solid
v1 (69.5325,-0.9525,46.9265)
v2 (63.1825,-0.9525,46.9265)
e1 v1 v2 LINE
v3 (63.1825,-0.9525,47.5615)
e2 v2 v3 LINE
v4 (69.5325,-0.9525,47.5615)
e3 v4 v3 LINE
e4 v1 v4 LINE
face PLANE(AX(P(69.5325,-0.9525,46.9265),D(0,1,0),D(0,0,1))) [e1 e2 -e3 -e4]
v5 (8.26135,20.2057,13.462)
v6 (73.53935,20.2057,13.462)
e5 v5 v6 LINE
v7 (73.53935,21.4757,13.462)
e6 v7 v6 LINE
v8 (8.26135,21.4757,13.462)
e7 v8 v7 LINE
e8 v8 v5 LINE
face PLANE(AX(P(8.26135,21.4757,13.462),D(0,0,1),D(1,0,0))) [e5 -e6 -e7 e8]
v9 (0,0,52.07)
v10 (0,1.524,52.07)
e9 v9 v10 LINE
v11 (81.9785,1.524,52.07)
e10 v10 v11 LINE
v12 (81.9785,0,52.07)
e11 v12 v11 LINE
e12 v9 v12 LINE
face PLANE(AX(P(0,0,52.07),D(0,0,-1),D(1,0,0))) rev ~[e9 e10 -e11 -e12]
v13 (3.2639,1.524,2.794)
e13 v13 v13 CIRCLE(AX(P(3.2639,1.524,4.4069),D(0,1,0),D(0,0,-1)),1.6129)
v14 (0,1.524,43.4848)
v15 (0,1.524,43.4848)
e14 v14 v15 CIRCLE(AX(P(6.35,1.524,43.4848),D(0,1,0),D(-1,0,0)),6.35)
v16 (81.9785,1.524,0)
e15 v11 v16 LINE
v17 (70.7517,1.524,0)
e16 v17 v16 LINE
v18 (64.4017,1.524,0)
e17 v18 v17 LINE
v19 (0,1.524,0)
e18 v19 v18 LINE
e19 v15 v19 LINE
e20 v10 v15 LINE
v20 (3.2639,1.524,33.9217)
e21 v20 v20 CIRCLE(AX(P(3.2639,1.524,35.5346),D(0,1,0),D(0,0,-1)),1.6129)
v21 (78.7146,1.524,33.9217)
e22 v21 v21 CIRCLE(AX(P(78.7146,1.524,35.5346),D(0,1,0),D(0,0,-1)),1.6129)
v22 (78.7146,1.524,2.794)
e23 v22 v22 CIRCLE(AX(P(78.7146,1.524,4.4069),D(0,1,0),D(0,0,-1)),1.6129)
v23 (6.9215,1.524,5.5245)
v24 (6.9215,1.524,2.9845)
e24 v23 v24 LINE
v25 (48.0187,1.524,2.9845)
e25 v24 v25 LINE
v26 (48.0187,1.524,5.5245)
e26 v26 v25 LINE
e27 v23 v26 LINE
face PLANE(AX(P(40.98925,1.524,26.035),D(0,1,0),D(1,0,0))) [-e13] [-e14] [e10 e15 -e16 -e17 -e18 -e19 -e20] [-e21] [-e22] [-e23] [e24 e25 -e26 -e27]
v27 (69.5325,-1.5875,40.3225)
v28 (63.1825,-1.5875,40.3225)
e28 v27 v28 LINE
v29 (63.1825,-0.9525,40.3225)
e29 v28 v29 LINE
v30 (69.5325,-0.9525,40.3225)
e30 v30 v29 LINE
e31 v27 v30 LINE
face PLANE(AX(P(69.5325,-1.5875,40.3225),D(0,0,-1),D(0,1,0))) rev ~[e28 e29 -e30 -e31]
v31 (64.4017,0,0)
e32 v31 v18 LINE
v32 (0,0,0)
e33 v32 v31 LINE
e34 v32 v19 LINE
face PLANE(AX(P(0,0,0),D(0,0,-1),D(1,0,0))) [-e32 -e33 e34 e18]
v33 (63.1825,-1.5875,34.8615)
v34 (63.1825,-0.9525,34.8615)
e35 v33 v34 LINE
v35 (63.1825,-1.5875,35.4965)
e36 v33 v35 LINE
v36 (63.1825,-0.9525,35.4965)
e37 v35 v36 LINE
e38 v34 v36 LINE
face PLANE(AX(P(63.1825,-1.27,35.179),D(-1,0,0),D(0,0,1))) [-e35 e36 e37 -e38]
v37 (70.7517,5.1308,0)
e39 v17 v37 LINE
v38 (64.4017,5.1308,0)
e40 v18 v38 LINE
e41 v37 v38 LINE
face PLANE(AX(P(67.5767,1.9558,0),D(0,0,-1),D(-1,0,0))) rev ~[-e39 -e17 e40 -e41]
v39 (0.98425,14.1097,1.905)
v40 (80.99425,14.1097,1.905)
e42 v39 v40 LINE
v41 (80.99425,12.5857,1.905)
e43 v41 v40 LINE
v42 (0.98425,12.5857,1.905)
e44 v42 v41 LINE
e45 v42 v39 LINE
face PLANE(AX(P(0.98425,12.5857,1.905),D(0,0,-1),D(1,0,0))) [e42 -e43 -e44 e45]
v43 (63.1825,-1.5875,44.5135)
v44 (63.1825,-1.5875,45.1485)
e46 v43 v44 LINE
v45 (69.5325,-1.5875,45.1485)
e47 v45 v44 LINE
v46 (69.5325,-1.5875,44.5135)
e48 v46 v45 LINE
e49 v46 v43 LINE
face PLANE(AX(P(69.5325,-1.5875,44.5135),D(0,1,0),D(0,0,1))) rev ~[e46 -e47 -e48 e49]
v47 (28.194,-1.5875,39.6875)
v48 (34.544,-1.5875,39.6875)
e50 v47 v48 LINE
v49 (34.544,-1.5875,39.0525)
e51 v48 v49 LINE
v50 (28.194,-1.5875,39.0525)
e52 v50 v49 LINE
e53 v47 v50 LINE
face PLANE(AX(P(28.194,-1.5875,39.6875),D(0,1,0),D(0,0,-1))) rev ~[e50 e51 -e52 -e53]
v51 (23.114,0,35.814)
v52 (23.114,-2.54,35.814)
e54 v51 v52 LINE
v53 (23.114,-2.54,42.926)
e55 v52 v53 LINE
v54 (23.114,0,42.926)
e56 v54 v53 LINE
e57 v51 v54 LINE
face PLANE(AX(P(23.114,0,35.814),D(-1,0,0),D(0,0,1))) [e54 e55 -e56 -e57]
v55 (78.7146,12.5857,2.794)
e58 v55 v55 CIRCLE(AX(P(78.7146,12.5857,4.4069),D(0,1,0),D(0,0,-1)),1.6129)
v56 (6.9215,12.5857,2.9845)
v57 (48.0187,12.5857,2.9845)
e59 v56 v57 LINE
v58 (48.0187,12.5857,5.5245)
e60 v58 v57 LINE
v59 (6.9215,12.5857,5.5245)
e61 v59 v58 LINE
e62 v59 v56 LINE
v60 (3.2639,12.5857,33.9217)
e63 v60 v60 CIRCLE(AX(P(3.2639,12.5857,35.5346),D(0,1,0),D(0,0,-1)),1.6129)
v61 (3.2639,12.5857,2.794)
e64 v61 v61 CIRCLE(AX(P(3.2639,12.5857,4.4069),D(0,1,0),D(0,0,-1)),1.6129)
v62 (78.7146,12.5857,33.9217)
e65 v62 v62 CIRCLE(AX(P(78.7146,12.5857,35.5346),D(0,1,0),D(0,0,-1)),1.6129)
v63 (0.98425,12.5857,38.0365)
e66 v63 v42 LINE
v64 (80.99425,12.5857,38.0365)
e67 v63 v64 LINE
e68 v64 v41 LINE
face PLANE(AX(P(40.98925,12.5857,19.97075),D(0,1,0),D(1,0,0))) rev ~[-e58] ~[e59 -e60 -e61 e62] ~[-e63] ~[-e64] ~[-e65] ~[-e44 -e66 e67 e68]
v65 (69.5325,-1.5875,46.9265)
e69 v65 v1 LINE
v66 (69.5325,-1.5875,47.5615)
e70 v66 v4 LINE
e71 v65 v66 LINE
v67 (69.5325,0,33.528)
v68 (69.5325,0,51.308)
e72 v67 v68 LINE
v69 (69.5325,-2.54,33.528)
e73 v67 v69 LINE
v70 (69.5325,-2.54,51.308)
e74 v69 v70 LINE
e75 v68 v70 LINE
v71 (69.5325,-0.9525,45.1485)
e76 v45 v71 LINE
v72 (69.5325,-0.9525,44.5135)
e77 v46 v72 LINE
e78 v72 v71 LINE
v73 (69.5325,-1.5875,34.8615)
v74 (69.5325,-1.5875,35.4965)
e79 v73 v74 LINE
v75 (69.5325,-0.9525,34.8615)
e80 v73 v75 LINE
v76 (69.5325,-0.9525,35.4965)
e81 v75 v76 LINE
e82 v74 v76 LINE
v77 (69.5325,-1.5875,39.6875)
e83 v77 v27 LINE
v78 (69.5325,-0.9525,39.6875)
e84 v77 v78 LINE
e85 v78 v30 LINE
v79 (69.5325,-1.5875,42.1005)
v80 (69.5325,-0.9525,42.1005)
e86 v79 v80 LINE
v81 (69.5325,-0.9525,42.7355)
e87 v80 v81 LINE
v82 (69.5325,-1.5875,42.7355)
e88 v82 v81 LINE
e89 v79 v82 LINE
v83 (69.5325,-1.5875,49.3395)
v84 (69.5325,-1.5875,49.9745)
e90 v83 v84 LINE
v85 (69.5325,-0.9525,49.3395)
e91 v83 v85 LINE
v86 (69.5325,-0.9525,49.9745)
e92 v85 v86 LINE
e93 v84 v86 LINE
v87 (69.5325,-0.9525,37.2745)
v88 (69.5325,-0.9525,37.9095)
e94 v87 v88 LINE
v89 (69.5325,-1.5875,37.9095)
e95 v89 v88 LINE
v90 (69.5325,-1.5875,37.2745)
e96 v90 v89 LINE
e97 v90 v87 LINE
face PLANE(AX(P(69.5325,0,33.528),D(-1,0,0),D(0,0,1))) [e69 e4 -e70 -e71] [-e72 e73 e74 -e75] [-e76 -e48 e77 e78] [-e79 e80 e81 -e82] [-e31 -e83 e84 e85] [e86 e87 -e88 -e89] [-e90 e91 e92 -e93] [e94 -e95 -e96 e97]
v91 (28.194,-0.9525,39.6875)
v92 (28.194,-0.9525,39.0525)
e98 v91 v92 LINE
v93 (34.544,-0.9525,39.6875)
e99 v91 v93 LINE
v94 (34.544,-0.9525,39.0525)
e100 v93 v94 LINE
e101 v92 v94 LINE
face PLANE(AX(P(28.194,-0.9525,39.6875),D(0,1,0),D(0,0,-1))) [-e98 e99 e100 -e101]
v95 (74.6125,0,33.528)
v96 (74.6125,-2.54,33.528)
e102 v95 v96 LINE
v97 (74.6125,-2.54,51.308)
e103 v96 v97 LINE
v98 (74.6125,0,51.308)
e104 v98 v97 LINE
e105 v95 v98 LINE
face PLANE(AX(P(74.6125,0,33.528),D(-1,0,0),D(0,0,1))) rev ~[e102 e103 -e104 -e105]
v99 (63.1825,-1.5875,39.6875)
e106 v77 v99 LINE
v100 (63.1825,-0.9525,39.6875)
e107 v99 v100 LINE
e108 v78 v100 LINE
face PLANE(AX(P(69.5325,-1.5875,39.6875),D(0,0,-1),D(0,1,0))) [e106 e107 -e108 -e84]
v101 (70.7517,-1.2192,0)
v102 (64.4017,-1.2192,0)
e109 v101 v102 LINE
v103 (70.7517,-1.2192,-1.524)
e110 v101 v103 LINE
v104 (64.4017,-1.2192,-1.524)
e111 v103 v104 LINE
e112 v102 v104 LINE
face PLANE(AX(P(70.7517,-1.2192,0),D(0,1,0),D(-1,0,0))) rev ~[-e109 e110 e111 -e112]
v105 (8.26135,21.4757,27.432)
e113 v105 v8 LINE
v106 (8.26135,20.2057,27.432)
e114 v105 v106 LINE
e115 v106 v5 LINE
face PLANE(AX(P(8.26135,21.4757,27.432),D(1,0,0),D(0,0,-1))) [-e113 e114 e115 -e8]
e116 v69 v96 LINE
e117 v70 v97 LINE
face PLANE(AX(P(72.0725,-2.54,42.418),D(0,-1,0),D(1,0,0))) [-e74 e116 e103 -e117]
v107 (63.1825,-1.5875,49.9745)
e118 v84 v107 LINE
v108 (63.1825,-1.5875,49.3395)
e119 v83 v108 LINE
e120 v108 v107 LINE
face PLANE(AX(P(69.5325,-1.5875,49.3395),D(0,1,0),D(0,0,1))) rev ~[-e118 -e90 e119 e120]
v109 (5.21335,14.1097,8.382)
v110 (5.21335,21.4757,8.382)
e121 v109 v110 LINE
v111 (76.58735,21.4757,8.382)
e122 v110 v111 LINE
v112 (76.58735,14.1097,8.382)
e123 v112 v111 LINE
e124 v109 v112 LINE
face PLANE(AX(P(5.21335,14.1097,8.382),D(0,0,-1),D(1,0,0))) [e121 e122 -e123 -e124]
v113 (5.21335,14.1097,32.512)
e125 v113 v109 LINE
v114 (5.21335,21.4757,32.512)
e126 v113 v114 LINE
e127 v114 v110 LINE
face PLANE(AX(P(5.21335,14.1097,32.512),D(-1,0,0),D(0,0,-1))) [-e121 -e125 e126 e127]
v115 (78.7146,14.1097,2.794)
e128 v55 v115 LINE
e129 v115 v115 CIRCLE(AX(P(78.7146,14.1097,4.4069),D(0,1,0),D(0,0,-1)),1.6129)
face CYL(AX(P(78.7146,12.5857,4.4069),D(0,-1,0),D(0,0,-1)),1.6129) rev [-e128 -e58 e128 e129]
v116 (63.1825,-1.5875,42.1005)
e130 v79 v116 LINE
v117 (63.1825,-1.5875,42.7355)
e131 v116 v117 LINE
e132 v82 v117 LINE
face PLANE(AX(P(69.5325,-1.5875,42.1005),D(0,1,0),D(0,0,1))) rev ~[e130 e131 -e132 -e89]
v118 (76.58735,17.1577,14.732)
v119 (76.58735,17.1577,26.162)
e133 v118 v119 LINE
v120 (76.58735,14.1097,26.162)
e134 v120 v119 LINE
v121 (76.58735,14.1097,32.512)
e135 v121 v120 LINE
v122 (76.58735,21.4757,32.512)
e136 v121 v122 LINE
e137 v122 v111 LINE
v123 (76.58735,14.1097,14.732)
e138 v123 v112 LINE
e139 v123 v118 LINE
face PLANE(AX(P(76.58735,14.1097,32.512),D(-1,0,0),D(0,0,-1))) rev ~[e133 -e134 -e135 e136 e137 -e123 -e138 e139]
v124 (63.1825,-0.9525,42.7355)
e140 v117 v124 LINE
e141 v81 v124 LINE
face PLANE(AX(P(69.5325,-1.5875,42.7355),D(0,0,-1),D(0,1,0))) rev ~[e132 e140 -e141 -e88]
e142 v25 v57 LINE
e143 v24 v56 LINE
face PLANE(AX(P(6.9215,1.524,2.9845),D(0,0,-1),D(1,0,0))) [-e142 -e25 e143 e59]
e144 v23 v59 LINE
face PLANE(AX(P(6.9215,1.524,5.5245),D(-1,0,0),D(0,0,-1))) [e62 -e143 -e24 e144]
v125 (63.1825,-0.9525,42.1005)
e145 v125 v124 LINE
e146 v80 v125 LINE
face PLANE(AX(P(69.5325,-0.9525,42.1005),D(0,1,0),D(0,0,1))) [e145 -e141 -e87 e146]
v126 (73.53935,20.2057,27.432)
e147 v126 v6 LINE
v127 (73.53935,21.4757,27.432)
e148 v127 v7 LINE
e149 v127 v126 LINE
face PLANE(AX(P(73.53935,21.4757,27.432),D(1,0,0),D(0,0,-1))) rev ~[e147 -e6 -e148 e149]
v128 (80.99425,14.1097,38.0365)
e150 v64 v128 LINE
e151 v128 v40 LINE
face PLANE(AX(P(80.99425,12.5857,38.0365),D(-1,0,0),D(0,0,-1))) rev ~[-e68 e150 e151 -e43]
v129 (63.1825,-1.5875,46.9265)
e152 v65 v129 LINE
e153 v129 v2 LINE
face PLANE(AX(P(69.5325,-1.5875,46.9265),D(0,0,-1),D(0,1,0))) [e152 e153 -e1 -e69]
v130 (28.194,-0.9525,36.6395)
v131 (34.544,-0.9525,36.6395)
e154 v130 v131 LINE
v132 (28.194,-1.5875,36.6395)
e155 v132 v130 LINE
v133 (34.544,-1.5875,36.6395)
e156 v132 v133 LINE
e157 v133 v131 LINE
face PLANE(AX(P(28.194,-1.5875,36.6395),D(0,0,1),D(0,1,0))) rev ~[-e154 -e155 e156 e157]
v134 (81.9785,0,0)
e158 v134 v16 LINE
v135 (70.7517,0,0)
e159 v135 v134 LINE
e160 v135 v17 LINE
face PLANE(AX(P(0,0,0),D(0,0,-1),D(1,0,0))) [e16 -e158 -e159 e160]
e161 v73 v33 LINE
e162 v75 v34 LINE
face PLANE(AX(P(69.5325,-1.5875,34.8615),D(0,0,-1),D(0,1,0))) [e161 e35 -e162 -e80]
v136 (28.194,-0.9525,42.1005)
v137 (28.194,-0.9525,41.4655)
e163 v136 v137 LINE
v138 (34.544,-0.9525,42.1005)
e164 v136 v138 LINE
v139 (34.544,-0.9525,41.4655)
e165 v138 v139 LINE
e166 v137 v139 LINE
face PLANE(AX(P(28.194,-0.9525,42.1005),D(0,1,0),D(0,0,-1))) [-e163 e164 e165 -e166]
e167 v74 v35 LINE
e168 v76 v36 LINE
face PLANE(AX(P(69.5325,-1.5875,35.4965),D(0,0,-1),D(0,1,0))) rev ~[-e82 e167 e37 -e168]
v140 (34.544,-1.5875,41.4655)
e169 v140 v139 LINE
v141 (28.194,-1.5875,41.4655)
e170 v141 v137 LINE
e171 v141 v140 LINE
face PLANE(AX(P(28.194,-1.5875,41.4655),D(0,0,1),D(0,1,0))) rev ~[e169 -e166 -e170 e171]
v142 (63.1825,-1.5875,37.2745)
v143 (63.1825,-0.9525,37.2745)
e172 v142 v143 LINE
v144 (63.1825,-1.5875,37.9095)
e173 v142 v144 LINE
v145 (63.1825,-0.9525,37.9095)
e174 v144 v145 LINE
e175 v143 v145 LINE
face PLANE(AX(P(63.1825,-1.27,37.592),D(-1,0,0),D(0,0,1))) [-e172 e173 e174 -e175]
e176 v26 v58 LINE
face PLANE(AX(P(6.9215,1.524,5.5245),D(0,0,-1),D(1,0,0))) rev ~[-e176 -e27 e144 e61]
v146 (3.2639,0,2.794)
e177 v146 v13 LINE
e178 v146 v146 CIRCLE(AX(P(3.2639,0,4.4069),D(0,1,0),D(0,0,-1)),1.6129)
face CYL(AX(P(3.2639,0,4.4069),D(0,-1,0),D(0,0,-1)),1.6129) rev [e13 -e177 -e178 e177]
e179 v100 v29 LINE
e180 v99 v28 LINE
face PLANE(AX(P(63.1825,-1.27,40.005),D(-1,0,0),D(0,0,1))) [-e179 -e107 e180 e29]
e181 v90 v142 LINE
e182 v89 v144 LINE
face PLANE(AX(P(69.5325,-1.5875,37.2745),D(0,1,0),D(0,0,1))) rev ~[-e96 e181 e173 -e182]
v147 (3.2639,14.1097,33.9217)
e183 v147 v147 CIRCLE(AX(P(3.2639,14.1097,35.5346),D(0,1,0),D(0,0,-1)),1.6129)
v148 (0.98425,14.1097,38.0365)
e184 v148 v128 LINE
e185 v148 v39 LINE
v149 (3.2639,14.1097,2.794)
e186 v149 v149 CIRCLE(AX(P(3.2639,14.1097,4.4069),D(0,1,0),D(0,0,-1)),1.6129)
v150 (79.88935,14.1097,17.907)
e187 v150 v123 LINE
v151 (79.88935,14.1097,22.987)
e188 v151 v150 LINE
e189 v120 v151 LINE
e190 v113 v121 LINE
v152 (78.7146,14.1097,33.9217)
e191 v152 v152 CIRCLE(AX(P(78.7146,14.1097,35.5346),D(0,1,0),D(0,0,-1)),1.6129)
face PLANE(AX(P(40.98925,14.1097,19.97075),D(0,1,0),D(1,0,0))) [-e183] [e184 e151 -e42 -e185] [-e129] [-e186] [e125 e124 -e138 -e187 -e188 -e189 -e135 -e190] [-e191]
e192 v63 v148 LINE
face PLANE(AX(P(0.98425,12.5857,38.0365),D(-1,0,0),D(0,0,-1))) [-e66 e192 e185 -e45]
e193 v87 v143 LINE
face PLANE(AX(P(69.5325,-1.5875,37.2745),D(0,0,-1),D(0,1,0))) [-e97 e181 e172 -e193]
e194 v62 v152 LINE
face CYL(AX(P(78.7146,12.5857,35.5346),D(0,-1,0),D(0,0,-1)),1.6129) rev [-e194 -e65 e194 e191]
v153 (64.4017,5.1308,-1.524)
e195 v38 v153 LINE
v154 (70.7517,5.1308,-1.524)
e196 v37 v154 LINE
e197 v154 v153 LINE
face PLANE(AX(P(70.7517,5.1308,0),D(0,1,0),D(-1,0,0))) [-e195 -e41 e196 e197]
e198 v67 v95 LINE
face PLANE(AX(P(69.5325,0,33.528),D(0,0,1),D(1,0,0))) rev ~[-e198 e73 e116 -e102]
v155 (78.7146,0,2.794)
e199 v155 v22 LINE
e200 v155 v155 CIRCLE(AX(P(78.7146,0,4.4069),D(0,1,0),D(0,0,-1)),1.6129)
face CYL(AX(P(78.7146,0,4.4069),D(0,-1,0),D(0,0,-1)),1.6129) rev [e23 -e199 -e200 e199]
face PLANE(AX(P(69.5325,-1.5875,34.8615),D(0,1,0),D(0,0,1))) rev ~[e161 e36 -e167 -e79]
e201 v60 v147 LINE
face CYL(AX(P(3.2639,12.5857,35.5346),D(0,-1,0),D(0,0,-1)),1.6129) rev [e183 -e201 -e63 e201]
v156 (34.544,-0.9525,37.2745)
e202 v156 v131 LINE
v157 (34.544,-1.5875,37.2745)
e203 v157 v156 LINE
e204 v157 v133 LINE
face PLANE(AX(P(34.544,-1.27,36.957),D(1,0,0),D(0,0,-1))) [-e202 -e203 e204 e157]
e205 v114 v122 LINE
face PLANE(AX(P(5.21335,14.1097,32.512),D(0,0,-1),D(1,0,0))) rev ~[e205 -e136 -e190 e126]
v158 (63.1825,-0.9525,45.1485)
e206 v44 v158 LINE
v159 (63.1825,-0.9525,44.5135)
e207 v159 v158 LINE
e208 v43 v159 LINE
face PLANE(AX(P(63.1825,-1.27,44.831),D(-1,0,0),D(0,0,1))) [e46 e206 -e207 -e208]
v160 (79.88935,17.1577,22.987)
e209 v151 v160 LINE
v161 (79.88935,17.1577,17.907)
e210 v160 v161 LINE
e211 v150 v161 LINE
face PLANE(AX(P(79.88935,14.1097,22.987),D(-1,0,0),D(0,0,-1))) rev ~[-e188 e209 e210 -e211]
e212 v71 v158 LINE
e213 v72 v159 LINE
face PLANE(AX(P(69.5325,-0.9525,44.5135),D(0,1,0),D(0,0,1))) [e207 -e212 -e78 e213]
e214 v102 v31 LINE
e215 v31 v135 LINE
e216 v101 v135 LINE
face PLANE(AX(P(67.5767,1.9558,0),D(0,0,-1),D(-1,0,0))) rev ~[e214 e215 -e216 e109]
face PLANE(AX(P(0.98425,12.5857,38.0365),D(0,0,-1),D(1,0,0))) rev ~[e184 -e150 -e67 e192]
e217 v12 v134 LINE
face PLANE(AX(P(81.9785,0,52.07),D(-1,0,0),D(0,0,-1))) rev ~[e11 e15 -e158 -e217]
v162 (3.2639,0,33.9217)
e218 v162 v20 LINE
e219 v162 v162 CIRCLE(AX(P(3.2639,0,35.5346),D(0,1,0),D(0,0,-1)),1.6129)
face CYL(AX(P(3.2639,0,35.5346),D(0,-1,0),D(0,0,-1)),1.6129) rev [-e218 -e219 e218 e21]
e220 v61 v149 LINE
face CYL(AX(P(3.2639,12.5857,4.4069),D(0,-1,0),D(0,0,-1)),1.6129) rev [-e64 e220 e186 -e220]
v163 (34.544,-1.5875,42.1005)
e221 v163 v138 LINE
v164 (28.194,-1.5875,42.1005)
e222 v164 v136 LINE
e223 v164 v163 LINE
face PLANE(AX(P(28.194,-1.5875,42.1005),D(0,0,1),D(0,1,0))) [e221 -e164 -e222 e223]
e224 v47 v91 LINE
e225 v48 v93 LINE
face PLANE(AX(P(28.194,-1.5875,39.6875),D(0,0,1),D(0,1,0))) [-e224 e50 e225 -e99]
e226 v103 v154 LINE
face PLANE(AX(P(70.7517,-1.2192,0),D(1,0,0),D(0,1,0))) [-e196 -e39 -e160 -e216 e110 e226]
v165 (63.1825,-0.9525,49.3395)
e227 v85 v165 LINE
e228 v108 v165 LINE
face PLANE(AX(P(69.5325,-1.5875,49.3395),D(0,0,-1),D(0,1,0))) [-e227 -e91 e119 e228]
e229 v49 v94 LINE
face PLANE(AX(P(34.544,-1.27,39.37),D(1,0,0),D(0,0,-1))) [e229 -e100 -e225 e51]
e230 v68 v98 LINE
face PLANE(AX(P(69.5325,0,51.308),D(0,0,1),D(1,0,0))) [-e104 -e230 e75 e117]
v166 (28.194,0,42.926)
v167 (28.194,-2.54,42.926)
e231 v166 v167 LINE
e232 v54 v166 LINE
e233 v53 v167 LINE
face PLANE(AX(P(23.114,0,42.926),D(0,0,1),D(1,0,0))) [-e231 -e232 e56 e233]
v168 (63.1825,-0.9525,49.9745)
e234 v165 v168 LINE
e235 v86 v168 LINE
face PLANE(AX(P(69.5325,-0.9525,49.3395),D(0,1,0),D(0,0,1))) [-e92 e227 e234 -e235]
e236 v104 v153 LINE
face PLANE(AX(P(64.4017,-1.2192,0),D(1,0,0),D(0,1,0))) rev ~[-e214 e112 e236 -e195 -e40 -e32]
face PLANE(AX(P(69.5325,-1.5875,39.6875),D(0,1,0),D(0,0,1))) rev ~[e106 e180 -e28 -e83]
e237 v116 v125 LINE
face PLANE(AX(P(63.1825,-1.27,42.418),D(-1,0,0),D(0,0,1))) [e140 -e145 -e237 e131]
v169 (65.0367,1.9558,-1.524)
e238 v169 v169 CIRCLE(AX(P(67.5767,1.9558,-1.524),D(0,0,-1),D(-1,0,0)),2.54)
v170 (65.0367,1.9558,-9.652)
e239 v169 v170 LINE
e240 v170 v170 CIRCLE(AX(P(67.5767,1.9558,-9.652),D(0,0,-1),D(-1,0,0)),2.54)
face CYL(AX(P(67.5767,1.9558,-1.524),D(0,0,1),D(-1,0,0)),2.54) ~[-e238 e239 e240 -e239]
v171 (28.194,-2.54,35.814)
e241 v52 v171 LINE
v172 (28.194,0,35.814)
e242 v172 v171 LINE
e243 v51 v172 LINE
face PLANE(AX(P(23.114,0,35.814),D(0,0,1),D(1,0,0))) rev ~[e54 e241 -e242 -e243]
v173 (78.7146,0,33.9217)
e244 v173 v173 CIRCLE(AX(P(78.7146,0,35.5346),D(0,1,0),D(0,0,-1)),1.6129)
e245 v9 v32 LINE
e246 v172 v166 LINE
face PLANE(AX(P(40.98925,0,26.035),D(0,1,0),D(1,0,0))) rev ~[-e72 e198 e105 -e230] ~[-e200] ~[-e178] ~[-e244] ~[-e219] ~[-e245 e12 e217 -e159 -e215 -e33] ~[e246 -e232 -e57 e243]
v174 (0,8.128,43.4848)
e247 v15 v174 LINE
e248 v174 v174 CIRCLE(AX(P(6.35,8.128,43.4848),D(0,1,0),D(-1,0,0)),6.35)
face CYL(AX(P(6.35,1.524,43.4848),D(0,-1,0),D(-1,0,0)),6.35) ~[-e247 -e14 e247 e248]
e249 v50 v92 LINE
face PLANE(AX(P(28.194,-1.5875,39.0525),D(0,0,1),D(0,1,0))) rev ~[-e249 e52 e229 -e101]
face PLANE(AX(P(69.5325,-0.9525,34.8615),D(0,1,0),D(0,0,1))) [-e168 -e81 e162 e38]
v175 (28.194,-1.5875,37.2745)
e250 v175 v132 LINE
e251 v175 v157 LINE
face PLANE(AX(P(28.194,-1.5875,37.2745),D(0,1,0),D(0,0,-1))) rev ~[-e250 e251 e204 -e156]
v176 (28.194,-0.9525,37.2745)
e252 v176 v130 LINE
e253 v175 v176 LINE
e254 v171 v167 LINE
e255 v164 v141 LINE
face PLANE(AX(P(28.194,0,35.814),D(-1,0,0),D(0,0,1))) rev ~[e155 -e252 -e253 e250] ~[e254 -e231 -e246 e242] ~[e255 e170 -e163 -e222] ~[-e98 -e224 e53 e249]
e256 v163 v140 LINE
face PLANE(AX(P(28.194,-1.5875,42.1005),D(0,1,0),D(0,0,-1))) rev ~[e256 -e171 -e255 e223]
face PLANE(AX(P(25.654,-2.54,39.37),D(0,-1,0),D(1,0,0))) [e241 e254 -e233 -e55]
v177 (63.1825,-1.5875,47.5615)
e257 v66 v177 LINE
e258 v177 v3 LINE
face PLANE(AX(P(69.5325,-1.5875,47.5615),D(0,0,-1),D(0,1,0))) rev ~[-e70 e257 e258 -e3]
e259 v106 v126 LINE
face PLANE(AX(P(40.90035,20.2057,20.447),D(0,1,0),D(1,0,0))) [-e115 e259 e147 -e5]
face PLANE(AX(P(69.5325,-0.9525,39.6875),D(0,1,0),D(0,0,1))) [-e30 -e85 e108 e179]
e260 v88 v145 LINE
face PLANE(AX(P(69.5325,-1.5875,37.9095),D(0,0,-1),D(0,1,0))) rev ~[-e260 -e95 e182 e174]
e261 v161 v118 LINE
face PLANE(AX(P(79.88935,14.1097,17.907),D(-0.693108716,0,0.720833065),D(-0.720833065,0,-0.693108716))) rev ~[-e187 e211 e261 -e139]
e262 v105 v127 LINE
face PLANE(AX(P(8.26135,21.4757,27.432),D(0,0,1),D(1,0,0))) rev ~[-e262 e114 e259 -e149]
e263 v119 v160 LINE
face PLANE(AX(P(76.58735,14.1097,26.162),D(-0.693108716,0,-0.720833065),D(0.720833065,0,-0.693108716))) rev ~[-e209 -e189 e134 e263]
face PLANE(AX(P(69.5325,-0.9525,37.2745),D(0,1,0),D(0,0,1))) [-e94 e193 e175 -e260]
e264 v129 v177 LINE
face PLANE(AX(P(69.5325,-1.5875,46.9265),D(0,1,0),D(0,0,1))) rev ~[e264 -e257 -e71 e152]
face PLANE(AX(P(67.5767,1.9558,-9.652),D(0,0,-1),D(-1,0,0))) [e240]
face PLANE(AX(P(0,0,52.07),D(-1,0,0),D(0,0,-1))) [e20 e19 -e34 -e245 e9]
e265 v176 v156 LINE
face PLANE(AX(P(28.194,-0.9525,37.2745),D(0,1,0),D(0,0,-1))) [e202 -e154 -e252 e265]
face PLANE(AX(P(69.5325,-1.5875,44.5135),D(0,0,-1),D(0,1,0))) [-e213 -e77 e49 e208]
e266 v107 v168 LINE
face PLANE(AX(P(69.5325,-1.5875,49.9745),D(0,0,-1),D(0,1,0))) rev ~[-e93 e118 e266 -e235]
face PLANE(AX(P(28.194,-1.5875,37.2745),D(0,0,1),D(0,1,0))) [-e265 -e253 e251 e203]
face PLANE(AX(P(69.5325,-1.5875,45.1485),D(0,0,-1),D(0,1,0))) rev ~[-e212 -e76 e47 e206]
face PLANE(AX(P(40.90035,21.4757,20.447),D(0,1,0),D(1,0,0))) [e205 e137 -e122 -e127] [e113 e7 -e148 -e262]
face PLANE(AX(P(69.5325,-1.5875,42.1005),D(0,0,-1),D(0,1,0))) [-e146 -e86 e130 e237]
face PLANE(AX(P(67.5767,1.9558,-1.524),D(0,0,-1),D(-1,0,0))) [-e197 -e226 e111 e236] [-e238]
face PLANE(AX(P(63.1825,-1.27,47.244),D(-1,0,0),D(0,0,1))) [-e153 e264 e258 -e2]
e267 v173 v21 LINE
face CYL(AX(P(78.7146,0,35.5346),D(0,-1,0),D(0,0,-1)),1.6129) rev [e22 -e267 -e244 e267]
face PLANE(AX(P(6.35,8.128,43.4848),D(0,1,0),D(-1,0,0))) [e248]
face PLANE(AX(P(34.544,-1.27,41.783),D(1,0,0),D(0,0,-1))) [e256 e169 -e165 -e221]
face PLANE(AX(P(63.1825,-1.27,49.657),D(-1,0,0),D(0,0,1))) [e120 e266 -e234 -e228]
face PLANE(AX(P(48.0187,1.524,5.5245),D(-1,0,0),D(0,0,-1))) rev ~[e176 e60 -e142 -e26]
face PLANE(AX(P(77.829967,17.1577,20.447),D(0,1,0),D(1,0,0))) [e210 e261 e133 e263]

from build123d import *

# Parameters (mm, degrees)
SKETCH1_W            = 81.9785
SKETCH1_H            = 52.07
SKETCH1_R            = 1.6129
BASE_PCB_DEPTH       = 1.524
SKETCH2_W            = 6.35
SKETCH2_H            = 6.35
BOSS_EXTRUDE2_DEPTH  = 1.524
SKETCH3_R            = 2.54
BOSS_EXTRUDE3_DEPTH  = 8.128
SKETCH4_W            = 41.0972
SKETCH4_H            = 2.54
LCD_HEADER_DEPTH     = 11.0617
SKETCH5_W            = 80.01
SKETCH5_H            = 36.1315
SKETCH5_R            = 1.6129
LCD_PCB_DEPTH        = 1.524
SKETCH6_W            = 71.374
SKETCH6_H            = 24.13
BOSS_EXTRUDE6_DEPTH  = 7.366
SKETCH7_W            = 65.278
SKETCH7_H            = 13.97
CUT_EXTRUDE1_DEPTH   = 1.27
BOSS_EXTRUDE7_DEPTH  = 3.048
SKETCH9_R            = 6.35
BUZZER_DEPTH         = 6.604
SKETCH10_W           = 5.08
SKETCH10_H           = 17.78
BOSS_EXTRUDE9_DEPTH  = 2.54
SKETCH11_W           = 0.635
SKETCH11_H           = 0.635
BOSS_EXTRUDE10_DEPTH = 6.35
SKETCH12_W           = 5.08
SKETCH12_H           = 7.112
BOSS_EXTRUDE11_DEPTH = 2.54
SKETCH13_W           = 0.635
SKETCH13_H           = 0.635
BOSS_EXTRUDE12_DEPTH = 6.35


with BuildPart() as part:
    # Sketch1 → Base PCB (new body)
    with BuildSketch(Plane(origin=(0, 0, 0), x_dir=(1, 0, 0), z_dir=(0, 1, 0))):
        with Locations((40.98925, -26.035)):
            Rectangle(SKETCH1_W, SKETCH1_H)
        with Locations(Location((3.2639, -4.4069, 0), (0, 0, 90))):
            Circle(SKETCH1_R, mode=Mode.SUBTRACT)
        with Locations(Location((3.2639, -35.5346, 0), (0, 0, 90))):
            Circle(SKETCH1_R, mode=Mode.SUBTRACT)
        with Locations(Location((78.7146, -35.5346, 0), (0, 0, 90))):
            Circle(SKETCH1_R, mode=Mode.SUBTRACT)
        with Locations(Location((78.7146, -4.4069, 0), (0, 0, 90))):
            Circle(SKETCH1_R, mode=Mode.SUBTRACT)
    extrude(amount=BASE_PCB_DEPTH)

    # Sketch2 → Boss-Extrude2 (add)
    with BuildSketch(Plane(origin=(0, 0, 0), x_dir=(-1, 0, 0), z_dir=(0, 0, -1))):
        with Locations((-67.5767, 1.9558)):
            Rectangle(SKETCH2_W, SKETCH2_H)
    extrude(amount=BOSS_EXTRUDE2_DEPTH)

    # Sketch3 → Boss-Extrude3 (add)
    with BuildSketch(Plane(origin=(0, 0, -1.524), x_dir=(-1, 0, 0), z_dir=(0, 0, -1))):
        with Locations((-67.5767, 1.9558)):
            Circle(SKETCH3_R)
    extrude(amount=BOSS_EXTRUDE3_DEPTH)

    # Sketch4 → LCD Header (add)
    with BuildSketch(Plane(origin=(0, 1.524, 0), x_dir=(1, 0, 0), z_dir=(0, 1, 0))):
        with Locations((27.4701, -4.2545)):
            Rectangle(SKETCH4_W, SKETCH4_H)
    extrude(amount=LCD_HEADER_DEPTH)

    # Sketch5 → LCD PCB (add)
    with BuildSketch(Plane(origin=(0, 12.5857, 0), x_dir=(1, 0, 0), z_dir=(0, 1, 0))):
        with Locations((40.98925, -19.97075)):
            Rectangle(SKETCH5_W, SKETCH5_H)
        with Locations(Location((78.7146, -4.4069, 0), (0, 0, 90))):
            Circle(SKETCH5_R, mode=Mode.SUBTRACT)
        with Locations(Location((78.7146, -35.5346, 0), (0, 0, 90))):
            Circle(SKETCH5_R, mode=Mode.SUBTRACT)
        with Locations(Location((3.2639, -35.5346, 0), (0, 0, 90))):
            Circle(SKETCH5_R, mode=Mode.SUBTRACT)
        with Locations(Location((3.2639, -4.4069, 0), (0, 0, 90))):
            Circle(SKETCH5_R, mode=Mode.SUBTRACT)
    extrude(amount=LCD_PCB_DEPTH)

    # Sketch6 → Boss-Extrude6 (add)
    with BuildSketch(Plane(origin=(0, 14.1097, 0), x_dir=(1, 0, 0), z_dir=(0, 1, 0))):
        with Locations((40.90035, -20.447)):
            Rectangle(SKETCH6_W, SKETCH6_H)
    extrude(amount=BOSS_EXTRUDE6_DEPTH)

    # Sketch7 → Cut-Extrude1 (cut)
    with BuildSketch(Plane(origin=(0, 21.4757, 0), x_dir=(1, 0, 0), z_dir=(0, 1, 0))):
        with Locations((40.90035, -20.447)):
            Rectangle(SKETCH7_W, SKETCH7_H)
    extrude(amount=-CUT_EXTRUDE1_DEPTH, mode=Mode.SUBTRACT)

    # Sketch8 → Boss-Extrude7 (add)
    with BuildSketch(Plane(origin=(0, 14.1097, 0), x_dir=(1, 0, 0), z_dir=(0, 1, 0))):
        Polygon((76.58735, -14.732), (76.58735, -26.162), (79.88935, -22.987), (79.88935, -17.907), align=None)
    extrude(amount=BOSS_EXTRUDE7_DEPTH)

    # Sketch9 → Buzzer (add)
    with BuildSketch(Plane(origin=(0, 1.524, 0), x_dir=(1, 0, 0), z_dir=(0, 1, 0))):
        with Locations(Location((6.35, -43.4848, 0), (0, 0, 180))):
            Circle(SKETCH9_R)
    extrude(amount=BUZZER_DEPTH)

    # Sketch10 → Boss-Extrude9 (add)
    with BuildSketch(Plane.XZ):
        with Locations((72.0725, 42.418)):
            Rectangle(SKETCH10_W, SKETCH10_H)
    extrude(amount=BOSS_EXTRUDE9_DEPTH)

    # Sketch11 → Boss-Extrude10 (add)
    with BuildSketch(Plane.ZY.offset(-69.5325)):
        with Locations((37.592, -1.27)):
            Rectangle(SKETCH11_W, SKETCH11_H)
        with Locations((35.179, -1.27)):
            Rectangle(SKETCH11_W, SKETCH11_H)
        with Locations((40.005, -1.27)):
            Rectangle(SKETCH11_W, SKETCH11_H)
        with Locations((42.418, -1.27)):
            Rectangle(SKETCH11_W, SKETCH11_H)
        with Locations((44.831, -1.27)):
            Rectangle(SKETCH11_W, SKETCH11_H)
        with Locations((47.244, -1.27)):
            Rectangle(SKETCH11_W, SKETCH11_H)
        with Locations((49.657, -1.27)):
            Rectangle(SKETCH11_W, SKETCH11_H)
    extrude(amount=BOSS_EXTRUDE10_DEPTH)

    # Sketch12 → Boss-Extrude11 (add)
    with BuildSketch(Plane.XZ):
        with Locations((25.654, 39.37)):
            Rectangle(SKETCH12_W, SKETCH12_H)
    extrude(amount=BOSS_EXTRUDE11_DEPTH)

    # Sketch13 → Boss-Extrude12 (add)
    with BuildSketch(Plane(origin=(28.194, 0, 0), x_dir=(0, 0, -1), z_dir=(1, 0, 0))):
        with Locations((-39.37, -1.27)):
            Rectangle(SKETCH13_W, SKETCH13_H)
        with Locations((-41.783, -1.27)):
            Rectangle(SKETCH13_W, SKETCH13_H)
        with Locations((-36.957, -1.27)):
            Rectangle(SKETCH13_W, SKETCH13_H)
    extrude(amount=BOSS_EXTRUDE12_DEPTH)


solid = part.part
